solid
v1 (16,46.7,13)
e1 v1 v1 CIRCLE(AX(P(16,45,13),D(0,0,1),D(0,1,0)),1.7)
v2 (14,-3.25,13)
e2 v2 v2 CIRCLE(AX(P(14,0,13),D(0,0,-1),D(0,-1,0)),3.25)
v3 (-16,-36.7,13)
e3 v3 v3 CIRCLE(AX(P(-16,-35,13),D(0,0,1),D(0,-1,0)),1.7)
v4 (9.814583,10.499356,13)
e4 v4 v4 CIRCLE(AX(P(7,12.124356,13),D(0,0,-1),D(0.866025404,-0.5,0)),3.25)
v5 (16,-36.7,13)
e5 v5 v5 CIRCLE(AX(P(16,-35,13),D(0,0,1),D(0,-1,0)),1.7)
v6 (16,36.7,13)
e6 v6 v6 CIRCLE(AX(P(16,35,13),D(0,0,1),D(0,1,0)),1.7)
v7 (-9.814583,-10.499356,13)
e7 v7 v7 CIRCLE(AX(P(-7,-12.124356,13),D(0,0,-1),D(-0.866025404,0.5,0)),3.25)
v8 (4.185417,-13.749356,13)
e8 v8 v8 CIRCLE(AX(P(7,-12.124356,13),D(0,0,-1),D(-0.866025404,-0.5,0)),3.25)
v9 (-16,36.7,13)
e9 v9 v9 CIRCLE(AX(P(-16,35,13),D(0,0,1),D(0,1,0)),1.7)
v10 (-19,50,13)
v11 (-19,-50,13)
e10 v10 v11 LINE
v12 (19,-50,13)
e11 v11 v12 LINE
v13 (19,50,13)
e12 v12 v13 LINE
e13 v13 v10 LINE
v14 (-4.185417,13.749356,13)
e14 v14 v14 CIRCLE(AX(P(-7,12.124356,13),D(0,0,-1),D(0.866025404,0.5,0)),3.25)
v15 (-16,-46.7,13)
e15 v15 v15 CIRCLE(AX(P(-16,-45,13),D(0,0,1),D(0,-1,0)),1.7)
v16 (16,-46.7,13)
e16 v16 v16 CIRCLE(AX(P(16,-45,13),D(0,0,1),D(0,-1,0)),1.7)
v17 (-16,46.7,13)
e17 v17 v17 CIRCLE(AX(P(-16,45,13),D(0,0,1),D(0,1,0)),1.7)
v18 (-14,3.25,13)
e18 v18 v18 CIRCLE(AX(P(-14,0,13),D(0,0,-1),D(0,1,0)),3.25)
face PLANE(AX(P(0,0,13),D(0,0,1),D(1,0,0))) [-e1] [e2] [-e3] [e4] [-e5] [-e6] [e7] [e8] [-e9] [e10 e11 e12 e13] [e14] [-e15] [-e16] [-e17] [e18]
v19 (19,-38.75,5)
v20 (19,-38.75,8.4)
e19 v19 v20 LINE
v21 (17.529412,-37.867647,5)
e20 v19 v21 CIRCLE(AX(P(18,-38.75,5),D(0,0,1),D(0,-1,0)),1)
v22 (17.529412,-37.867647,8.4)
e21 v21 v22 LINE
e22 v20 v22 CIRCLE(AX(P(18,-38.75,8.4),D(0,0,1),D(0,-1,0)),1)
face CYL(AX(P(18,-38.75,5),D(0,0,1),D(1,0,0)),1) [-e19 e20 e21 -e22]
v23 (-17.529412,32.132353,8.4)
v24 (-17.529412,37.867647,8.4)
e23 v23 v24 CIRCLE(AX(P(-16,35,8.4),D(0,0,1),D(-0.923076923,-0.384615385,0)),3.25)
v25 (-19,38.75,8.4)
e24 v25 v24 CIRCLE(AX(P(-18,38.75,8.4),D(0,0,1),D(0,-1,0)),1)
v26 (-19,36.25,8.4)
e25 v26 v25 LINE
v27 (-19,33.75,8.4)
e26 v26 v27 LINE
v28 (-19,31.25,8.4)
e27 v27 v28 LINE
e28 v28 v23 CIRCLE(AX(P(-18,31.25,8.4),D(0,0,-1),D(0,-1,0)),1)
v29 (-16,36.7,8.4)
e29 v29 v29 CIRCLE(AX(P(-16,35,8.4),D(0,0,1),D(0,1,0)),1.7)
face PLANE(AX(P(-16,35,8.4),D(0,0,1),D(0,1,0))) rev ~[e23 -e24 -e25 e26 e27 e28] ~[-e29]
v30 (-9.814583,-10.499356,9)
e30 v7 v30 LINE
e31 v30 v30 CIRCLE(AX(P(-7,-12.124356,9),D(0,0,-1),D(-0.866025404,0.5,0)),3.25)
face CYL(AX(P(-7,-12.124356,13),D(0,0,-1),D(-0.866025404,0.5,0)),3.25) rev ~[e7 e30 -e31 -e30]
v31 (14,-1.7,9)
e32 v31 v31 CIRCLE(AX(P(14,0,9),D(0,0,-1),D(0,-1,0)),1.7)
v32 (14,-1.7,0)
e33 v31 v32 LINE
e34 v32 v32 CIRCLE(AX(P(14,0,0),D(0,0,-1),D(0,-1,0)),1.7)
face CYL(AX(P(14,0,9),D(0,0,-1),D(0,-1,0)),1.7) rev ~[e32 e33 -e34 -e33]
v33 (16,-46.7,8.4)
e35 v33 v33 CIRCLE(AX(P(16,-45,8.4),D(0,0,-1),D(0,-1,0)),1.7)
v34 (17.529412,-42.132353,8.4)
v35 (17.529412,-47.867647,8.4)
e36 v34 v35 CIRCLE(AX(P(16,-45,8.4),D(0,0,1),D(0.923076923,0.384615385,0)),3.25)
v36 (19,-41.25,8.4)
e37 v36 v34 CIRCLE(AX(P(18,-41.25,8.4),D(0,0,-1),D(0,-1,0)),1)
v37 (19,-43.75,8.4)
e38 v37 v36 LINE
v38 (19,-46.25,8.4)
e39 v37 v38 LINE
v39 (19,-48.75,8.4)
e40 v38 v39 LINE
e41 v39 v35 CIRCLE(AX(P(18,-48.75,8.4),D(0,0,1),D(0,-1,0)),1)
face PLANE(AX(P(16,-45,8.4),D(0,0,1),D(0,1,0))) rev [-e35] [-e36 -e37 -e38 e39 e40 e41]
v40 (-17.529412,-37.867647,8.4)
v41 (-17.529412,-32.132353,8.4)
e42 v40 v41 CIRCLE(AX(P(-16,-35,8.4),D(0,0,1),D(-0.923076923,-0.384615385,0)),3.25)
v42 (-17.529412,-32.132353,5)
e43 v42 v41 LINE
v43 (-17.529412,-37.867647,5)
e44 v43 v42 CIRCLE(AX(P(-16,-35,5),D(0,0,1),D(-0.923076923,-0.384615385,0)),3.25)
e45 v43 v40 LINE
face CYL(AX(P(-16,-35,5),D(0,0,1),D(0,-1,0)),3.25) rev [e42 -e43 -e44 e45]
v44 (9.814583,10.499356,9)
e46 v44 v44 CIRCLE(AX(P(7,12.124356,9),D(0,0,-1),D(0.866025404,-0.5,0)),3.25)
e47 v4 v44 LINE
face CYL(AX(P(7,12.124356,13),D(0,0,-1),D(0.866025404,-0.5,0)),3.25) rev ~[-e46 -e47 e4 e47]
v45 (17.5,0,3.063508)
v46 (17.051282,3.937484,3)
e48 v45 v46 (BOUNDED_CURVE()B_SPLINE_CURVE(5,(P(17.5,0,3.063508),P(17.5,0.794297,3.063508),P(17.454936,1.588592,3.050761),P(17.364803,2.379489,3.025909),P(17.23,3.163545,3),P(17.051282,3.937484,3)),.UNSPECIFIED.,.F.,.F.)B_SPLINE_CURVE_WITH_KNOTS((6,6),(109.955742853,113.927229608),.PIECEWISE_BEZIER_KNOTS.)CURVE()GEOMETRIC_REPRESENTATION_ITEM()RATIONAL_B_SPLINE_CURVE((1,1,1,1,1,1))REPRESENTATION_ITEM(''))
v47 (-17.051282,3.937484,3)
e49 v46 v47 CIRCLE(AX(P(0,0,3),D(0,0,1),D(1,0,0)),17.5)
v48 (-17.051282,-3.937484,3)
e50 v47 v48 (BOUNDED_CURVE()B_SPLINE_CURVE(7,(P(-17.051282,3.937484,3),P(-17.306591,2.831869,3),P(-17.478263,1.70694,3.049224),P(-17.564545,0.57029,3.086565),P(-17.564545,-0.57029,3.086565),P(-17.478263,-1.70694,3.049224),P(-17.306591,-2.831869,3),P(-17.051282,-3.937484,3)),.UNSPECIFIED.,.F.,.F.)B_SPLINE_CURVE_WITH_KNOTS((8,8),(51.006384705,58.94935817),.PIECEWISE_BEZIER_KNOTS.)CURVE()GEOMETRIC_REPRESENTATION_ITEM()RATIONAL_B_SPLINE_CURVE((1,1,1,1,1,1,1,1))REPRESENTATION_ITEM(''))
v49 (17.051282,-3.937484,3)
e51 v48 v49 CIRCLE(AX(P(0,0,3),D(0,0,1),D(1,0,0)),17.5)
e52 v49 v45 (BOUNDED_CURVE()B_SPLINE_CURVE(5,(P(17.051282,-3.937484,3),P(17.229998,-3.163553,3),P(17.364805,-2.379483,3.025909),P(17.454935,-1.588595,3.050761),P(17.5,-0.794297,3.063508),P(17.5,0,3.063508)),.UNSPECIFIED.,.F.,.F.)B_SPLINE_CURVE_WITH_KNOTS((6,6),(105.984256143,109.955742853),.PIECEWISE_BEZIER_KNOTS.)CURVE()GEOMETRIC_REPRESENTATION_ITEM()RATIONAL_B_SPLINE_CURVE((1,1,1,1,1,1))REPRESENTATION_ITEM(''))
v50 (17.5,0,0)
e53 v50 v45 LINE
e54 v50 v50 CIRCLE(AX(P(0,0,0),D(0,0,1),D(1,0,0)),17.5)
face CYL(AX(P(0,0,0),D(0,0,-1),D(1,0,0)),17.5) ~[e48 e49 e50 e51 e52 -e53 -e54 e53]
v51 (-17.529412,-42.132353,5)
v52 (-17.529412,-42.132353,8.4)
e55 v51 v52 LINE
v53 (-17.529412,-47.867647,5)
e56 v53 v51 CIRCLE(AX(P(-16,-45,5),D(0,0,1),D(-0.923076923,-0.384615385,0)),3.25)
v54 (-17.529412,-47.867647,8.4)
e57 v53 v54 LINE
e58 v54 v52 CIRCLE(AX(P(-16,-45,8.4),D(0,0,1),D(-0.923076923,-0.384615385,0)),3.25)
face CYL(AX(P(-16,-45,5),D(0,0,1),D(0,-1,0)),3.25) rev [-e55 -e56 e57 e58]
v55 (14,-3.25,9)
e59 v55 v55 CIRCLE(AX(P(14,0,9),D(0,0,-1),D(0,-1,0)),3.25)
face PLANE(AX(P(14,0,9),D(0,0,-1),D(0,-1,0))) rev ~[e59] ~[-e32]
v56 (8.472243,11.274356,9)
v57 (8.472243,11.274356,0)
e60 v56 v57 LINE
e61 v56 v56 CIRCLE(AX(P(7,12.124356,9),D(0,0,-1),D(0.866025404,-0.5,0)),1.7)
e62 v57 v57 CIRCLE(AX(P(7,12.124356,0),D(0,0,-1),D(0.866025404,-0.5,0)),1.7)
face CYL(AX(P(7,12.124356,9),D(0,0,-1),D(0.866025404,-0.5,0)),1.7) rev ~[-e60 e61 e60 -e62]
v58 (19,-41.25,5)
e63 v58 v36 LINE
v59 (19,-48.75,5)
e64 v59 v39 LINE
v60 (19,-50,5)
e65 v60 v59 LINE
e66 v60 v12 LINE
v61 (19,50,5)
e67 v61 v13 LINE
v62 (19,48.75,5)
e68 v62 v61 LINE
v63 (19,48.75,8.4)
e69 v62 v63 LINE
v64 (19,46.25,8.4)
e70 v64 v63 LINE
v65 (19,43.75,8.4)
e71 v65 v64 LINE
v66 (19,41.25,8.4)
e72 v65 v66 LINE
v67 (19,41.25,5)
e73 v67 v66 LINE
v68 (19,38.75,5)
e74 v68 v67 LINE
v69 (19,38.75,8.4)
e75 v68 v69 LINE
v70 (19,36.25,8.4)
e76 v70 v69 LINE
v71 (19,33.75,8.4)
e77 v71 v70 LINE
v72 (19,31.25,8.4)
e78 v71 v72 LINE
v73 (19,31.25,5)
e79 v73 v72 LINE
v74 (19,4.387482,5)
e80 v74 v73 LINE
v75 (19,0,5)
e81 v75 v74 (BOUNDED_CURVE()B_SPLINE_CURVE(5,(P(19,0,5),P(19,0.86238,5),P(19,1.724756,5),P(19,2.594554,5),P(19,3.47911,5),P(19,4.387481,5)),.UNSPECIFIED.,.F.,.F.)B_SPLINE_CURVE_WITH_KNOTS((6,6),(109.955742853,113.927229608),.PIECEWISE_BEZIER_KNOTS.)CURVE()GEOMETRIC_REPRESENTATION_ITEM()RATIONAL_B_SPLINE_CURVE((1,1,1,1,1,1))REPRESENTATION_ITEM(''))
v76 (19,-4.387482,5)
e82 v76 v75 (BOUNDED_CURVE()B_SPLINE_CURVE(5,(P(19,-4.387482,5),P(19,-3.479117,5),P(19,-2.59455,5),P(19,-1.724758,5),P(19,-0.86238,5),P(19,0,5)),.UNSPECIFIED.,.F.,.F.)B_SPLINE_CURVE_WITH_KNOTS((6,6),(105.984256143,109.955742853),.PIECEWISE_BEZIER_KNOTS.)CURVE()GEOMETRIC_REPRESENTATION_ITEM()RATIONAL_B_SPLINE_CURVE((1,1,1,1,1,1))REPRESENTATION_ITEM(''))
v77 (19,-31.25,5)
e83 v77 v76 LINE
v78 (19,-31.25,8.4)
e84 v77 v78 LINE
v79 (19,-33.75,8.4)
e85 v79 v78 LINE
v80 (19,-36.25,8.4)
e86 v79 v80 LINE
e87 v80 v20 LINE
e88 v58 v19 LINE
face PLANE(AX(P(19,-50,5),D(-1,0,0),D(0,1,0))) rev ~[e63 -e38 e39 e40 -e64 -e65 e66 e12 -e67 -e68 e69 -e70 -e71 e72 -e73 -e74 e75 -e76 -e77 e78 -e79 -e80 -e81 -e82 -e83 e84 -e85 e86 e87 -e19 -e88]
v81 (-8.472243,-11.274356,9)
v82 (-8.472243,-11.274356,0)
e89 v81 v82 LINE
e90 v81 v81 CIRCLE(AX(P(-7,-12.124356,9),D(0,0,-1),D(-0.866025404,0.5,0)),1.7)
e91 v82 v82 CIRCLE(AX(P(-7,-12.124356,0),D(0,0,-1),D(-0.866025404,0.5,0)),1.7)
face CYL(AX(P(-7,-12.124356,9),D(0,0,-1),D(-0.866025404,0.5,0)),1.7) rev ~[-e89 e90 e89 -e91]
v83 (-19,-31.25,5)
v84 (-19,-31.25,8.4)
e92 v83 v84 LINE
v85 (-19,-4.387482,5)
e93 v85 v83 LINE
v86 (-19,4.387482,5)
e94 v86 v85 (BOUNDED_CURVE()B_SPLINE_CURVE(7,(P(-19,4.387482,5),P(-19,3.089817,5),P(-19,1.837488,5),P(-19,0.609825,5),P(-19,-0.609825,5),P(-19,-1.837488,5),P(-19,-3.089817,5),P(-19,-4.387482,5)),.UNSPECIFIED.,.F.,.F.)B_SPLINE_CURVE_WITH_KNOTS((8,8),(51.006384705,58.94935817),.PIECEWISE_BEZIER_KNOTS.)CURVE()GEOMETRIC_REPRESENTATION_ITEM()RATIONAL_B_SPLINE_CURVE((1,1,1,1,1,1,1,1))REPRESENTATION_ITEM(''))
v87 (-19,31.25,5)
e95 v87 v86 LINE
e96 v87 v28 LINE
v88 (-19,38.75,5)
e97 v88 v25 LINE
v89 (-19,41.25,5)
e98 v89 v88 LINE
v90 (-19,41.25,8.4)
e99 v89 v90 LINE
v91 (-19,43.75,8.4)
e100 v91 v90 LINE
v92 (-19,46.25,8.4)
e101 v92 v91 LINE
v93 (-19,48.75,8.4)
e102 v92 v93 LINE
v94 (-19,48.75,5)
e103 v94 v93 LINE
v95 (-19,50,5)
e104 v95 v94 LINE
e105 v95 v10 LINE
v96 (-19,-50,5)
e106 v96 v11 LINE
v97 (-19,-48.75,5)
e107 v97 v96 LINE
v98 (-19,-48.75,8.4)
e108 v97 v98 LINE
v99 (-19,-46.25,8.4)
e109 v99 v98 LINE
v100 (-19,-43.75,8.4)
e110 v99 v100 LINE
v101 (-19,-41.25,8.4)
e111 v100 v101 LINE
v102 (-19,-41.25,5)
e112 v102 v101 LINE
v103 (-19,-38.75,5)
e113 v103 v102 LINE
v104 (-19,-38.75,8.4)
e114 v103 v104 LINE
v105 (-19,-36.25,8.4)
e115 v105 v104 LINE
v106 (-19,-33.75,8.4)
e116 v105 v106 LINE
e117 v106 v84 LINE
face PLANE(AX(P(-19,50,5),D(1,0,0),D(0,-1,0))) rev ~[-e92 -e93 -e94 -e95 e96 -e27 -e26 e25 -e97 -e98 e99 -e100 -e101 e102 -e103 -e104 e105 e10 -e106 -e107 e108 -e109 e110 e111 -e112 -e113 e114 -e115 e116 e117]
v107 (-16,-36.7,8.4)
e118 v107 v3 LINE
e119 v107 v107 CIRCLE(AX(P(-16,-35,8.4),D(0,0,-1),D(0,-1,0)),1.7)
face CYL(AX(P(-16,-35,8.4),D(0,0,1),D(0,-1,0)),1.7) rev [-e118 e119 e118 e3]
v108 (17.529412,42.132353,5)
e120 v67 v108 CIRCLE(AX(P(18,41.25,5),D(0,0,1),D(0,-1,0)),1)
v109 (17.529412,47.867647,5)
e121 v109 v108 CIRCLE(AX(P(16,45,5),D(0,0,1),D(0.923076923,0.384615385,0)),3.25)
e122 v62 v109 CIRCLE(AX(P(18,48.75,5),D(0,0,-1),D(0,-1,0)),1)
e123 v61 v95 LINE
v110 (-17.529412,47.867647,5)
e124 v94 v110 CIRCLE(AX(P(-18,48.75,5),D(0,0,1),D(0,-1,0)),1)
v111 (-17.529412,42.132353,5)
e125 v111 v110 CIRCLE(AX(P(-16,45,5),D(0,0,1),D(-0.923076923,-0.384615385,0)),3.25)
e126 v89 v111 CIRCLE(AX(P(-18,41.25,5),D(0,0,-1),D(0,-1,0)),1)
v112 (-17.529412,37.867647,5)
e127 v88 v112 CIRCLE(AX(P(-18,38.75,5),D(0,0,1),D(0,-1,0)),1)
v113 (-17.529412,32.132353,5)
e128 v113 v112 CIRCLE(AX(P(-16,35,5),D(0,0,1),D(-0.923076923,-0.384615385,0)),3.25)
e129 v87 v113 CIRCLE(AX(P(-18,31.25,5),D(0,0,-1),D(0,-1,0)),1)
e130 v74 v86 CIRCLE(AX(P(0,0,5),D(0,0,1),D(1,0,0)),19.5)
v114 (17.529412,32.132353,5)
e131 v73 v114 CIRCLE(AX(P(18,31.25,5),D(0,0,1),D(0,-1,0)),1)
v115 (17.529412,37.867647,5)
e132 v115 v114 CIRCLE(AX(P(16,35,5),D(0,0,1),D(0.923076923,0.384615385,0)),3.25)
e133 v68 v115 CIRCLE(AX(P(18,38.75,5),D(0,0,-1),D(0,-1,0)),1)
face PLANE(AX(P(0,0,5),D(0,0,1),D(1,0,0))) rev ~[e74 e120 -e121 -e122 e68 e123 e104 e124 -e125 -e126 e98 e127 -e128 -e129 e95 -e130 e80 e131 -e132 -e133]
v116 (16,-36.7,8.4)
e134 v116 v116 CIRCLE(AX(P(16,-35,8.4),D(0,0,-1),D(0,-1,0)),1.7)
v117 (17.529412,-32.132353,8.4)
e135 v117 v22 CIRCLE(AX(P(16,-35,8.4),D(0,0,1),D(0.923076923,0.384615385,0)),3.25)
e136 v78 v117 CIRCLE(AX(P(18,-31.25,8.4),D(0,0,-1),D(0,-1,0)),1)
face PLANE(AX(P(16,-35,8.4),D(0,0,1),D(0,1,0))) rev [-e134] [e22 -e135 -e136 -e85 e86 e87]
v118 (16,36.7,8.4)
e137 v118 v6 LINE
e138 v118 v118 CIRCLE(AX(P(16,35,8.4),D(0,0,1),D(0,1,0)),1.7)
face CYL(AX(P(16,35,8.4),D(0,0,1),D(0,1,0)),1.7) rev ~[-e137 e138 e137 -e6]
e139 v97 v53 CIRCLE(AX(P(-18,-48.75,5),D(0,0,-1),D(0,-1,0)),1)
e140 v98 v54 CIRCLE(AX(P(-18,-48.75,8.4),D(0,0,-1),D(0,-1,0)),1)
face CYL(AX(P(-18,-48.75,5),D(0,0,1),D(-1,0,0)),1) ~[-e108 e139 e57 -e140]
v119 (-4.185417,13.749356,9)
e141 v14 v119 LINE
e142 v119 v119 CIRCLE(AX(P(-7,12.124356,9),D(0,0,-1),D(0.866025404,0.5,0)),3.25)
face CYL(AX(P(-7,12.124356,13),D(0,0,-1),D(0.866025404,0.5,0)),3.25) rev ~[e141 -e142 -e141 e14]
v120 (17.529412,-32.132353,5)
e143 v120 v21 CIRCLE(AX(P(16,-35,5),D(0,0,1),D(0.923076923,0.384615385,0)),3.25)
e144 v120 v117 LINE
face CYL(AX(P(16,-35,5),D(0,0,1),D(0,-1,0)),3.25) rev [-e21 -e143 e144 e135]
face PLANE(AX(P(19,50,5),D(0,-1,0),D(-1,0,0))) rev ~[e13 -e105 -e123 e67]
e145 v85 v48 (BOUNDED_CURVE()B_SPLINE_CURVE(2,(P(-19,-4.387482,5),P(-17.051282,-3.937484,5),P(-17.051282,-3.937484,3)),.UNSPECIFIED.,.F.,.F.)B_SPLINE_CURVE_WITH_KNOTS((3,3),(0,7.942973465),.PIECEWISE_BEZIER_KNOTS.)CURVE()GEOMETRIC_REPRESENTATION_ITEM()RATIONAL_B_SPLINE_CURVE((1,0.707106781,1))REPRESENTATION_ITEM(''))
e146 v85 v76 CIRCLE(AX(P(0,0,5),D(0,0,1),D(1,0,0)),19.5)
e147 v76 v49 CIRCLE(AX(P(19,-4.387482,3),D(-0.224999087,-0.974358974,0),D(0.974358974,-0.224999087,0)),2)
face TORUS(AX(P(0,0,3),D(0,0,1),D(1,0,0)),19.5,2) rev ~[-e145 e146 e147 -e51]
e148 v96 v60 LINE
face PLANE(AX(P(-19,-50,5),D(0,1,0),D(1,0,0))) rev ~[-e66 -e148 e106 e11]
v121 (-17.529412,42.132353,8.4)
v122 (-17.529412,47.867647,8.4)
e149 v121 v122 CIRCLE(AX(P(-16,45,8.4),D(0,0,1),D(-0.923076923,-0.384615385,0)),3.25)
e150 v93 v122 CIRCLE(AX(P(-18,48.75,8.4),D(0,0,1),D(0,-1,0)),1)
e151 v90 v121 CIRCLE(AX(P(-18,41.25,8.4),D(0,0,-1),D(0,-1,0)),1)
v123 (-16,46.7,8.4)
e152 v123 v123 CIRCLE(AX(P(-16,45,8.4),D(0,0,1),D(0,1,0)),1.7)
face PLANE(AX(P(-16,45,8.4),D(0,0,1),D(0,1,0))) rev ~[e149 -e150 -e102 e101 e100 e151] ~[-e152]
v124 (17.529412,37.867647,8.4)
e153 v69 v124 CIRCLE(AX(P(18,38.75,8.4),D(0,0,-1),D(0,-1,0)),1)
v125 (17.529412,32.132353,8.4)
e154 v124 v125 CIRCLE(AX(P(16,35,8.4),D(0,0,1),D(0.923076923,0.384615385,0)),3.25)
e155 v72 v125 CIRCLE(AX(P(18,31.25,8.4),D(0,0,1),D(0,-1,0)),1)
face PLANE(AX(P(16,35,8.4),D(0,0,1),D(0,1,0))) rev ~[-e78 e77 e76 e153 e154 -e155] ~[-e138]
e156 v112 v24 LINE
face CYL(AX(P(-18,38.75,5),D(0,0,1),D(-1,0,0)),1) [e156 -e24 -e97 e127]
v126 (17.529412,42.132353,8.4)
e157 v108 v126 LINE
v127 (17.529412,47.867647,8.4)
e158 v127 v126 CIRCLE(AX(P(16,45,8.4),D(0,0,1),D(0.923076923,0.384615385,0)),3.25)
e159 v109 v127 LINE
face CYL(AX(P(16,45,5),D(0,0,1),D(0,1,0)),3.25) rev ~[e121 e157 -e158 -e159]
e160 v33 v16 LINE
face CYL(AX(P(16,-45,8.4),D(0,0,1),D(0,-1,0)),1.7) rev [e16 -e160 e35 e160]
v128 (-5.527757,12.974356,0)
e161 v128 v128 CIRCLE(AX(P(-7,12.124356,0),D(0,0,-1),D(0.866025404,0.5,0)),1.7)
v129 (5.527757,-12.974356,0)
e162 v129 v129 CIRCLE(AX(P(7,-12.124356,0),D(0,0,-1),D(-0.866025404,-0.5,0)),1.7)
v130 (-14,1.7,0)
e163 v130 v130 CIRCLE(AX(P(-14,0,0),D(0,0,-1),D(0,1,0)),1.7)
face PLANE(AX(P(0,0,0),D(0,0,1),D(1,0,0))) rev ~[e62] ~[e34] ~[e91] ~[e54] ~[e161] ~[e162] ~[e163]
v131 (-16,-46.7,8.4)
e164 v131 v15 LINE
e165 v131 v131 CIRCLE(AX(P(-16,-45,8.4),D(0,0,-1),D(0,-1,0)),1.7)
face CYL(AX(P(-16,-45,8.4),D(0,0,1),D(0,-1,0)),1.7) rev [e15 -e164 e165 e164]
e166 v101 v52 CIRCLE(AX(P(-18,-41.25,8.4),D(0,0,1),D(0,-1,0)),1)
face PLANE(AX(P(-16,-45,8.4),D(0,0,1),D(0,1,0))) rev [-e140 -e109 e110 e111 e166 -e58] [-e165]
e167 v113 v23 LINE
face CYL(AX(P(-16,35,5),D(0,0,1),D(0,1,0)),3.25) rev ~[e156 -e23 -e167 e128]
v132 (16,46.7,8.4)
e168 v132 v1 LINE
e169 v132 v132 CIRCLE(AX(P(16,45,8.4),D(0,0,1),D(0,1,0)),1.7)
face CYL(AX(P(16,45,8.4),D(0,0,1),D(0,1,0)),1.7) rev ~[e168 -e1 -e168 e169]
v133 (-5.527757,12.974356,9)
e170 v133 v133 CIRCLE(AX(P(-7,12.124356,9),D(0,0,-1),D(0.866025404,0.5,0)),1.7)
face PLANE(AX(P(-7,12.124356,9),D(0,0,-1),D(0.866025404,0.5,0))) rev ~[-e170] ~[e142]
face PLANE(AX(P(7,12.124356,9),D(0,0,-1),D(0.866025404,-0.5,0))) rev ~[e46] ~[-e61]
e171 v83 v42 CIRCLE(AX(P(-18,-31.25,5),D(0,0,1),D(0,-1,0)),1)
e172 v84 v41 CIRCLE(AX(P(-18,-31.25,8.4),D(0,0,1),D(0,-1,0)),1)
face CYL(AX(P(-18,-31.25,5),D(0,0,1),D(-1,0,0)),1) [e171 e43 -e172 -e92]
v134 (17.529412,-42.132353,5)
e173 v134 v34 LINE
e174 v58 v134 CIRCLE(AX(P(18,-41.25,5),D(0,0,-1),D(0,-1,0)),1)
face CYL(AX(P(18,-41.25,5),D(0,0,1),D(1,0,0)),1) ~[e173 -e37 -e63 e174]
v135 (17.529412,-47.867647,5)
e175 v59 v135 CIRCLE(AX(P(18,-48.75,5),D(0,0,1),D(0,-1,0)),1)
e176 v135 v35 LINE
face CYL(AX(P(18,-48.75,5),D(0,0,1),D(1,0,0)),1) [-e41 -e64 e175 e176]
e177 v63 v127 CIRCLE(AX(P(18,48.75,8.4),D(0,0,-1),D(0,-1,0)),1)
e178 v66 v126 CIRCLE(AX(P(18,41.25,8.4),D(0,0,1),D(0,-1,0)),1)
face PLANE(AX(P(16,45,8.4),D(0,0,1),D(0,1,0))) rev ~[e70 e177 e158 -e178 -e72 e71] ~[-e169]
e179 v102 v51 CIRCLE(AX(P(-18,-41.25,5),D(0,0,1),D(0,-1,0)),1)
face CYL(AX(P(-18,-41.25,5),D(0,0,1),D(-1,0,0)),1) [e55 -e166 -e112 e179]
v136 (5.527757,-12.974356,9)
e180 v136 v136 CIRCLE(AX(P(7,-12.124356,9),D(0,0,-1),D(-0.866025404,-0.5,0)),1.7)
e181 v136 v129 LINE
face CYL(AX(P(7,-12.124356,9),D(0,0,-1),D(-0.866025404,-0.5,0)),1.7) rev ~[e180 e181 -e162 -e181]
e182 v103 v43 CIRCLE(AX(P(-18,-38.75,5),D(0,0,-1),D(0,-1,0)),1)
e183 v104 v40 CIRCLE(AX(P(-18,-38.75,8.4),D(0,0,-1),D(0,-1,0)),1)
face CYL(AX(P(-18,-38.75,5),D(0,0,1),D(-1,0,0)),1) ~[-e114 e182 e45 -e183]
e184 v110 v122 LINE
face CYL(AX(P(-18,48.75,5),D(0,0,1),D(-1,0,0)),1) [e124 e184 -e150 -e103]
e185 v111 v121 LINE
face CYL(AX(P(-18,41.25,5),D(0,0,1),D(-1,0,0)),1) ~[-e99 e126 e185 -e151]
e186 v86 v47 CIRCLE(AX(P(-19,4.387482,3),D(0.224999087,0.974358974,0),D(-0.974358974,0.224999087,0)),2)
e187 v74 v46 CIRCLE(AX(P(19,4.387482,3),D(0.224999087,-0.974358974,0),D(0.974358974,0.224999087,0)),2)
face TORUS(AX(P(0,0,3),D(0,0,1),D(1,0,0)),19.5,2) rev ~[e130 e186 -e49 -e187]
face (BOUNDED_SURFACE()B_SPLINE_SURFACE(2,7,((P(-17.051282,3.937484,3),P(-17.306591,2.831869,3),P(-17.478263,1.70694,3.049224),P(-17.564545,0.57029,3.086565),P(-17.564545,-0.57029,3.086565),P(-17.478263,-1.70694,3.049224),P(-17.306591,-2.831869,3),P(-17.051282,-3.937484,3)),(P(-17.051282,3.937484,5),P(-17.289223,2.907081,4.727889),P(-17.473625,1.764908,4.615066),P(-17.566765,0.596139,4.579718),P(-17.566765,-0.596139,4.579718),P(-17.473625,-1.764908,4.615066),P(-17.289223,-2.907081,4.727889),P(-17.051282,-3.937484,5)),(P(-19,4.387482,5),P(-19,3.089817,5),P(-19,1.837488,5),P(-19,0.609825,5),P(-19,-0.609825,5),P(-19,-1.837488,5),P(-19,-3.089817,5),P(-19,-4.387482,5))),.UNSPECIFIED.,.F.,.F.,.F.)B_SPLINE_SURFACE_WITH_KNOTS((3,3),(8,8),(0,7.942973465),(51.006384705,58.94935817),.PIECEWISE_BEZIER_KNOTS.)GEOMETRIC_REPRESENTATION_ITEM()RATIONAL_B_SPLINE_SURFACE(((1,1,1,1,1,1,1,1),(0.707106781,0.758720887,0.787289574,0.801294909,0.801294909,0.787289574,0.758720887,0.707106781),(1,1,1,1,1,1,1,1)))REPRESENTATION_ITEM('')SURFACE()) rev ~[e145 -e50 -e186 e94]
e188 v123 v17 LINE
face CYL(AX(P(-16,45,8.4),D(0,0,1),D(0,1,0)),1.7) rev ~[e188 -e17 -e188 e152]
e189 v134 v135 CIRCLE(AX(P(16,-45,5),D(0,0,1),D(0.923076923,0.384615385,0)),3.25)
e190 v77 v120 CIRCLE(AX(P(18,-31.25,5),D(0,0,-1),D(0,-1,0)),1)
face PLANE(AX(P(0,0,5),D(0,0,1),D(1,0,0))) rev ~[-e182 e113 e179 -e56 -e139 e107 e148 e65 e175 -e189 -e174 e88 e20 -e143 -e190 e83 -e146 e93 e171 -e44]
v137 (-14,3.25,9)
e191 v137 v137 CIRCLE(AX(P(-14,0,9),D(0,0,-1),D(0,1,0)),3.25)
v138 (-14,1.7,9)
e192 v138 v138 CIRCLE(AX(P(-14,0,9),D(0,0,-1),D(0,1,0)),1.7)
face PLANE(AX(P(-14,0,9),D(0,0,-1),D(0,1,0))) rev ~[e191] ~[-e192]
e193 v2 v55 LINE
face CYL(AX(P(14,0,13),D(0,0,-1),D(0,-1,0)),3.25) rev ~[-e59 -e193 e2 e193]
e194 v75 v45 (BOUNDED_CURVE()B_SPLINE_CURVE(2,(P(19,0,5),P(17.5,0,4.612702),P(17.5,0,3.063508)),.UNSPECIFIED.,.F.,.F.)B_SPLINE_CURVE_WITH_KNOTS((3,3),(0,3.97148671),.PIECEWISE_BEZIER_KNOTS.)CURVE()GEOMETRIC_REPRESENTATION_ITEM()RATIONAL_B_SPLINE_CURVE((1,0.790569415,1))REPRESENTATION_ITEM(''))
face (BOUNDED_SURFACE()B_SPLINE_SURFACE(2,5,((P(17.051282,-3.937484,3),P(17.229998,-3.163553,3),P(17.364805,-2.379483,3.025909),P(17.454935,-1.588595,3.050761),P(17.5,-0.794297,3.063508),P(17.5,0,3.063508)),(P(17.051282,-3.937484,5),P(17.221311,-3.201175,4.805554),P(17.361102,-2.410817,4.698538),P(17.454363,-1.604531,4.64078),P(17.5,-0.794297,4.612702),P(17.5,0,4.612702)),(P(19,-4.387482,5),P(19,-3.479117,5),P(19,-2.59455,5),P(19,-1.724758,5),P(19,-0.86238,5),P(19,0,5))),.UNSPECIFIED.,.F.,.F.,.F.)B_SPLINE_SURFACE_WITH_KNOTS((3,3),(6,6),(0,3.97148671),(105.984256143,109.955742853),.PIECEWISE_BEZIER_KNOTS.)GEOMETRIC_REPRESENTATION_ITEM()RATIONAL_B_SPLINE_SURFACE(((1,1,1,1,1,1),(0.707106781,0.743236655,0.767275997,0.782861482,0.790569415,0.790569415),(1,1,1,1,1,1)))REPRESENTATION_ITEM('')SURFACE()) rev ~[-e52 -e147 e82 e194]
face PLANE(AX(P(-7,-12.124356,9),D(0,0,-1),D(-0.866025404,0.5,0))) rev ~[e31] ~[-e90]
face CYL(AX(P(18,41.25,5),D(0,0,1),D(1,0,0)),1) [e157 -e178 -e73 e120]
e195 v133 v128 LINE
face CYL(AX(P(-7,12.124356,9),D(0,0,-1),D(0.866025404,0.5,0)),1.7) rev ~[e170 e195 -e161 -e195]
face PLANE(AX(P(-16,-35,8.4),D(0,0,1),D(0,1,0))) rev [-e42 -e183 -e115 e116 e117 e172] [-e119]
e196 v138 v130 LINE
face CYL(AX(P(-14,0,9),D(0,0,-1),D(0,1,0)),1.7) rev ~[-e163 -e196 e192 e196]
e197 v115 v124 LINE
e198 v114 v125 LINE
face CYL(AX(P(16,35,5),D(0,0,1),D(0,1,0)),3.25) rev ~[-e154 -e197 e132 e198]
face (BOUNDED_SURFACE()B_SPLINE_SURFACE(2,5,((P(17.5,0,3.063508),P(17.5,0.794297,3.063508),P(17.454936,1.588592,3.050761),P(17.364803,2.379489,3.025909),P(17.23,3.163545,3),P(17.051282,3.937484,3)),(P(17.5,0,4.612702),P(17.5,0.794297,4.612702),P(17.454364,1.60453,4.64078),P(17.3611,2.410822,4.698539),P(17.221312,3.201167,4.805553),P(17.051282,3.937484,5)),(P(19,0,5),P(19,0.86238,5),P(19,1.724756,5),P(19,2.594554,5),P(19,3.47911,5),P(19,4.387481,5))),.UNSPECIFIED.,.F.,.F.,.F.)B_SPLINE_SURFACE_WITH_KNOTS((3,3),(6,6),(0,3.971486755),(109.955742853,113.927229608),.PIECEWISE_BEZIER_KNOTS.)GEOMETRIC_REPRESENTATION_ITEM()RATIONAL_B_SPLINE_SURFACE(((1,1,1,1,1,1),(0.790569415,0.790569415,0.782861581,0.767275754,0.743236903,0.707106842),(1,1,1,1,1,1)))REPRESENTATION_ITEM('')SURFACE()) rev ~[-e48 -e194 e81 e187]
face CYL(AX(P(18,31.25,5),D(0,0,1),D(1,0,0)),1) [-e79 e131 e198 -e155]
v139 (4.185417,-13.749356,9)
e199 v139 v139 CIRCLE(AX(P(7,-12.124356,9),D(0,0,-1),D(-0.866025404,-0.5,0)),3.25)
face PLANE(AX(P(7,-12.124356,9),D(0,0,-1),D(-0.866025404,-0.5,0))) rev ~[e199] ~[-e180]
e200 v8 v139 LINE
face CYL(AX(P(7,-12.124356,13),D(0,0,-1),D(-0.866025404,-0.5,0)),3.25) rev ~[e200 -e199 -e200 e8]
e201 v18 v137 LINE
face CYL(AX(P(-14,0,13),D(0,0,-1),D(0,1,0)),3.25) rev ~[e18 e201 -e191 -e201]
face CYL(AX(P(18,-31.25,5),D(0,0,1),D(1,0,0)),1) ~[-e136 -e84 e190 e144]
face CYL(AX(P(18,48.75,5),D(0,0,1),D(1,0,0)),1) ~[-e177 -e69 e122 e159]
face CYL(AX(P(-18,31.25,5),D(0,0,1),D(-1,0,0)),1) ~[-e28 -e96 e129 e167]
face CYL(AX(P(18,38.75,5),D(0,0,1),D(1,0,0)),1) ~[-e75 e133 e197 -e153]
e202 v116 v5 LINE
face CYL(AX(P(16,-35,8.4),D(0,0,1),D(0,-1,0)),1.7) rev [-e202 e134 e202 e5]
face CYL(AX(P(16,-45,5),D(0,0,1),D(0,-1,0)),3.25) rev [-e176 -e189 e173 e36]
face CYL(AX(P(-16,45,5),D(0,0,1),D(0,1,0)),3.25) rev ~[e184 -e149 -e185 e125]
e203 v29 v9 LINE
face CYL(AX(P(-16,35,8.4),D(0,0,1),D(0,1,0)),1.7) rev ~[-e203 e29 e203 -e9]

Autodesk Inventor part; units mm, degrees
ref_plane "YZ Plane" through (0, 0, 0) normal (1, 0, 0) x (0, 1, 0)
ref_plane "XZ Plane" through (0, 0, 0) normal (0, 1, 0) x (-1, 0, 0)
ref_plane "XY Plane" through (0, 0, 0) normal (0, 0, 1) x (1, 0, 0)
sketch "Sketch1" plane through (0, 0, 0) normal (0, 0, 1) x (1, 0, 0)
  circle A0 centre (0, 0) radius 17.5
  dimension "d0" = 35
extrude "Extrusion1" add sketch "Sketch1" along normal blind 5
sketch "Sketch2" plane through (0, 0, 5) normal (0, 0, 1) x (1, 0, 0)
  line L0 (-19, -50) -> (19, -50)
  line L1 (19, -50) -> (19, 50)
  line L2 (19, 50) -> (-19, 50)
  line L3 (-19, 50) -> (-19, -50)
  line L4 (-19, -50) -> (19, 50) construction
  line L5 (19, -50) -> (-19, 50) construction
  point P0 (0, 0)
  dimension "d3" = 38
  dimension "d4" = 100
extrude "Extrusion2" add sketch "Sketch2" along normal blind 8
sketch "Sketch3" plane through (0, 0, 13) normal (0, 0, 1) x (1, 0, 0)
  point P0 (0, 0)
  point P1 (14, 0)
  dimension "d7" = 14
hole "Hole1" at (14, 0, 13) direction (0, 0, -1) diameter 3.4 end through all counterbore diameter 6.5 counterbore depth 4 clearance for "Socket Head Cap Screw DIN EN ISO 4762" size "M3" standard "DIN"
pattern_circular "Circular Pattern1" count 6 over 360 about axis through (0, 0, -10) along (0, 0, 1) of "Hole1"
sketch "Sketch4" plane through (0, 0, 5) normal (0, 0, -1) x (-1, 0, 0)
  line L0 (-16, 45) -> (16, 45)
  line L1 (16, 45) -> (16, 35)
  line L2 (16, 35) -> (-16, 35)
  line L3 (-16, 35) -> (-16, 45)
  line L4 (-16, 45) -> (16, 35) construction
  line L5 (16, 45) -> (-16, 35) construction
  line L6 (-19, 50) -> (19, 50) projected
  line L7 (19, 50) -> (19, -50) projected
  line L8 (-19, -50) -> (-19, 50) projected
  point P0 (0, 0)
  point P1 (0, 40)
  dimension "d18" = 5
  dimension "d19" = 3
  dimension "d20" = 3
  dimension "d21" = 10
hole "Hole2" at (16, 45, 5) at (-16, 45, 5) at (-16, 35, 5) at (16, 35, 5) direction (0, 0, 1) diameter 3.4 end through all counterbore diameter 6.5 counterbore depth 3.4 clearance for "Socket Head Cap Screw DIN EN ISO 4762" size "M3" standard "DIN"
mirror "Mirror1" about plane through (0, 0, 0) normal (0, 1, 0) of "Hole2"
fillet "Fillet1" radius 2 1 edges at (-17.5, 0, 5)
fillet "Fillet2" radius 1 16 edges at (-19, -33.75, 6.7) (-19, -36.25, 6.7) (-19, -43.75, 6.7) (-19, -46.25, 6.7) (19, -33.75, 6.7) (19, -36.25, 6.7) (19, -43.75, 6.7) (19, -46.25, 6.7) (19, 33.75, 6.7) (19, 36.25, 6.7) (19, 43.75, 6.7) (19, 46.25, 6.7) (-19, 33.75, 6.7) (-19, 36.25, 6.7) (-19, 43.75, 6.7) (-19, 46.25, 6.7)
ref_plane "Work Plane1" through (0, 0, 0) normal (0, 1, 0) x (-1, 0, 0)
equation "\"d19\" = d20"
equation "\"d21\" = 2 * d18"
properties part number "401-flange"
